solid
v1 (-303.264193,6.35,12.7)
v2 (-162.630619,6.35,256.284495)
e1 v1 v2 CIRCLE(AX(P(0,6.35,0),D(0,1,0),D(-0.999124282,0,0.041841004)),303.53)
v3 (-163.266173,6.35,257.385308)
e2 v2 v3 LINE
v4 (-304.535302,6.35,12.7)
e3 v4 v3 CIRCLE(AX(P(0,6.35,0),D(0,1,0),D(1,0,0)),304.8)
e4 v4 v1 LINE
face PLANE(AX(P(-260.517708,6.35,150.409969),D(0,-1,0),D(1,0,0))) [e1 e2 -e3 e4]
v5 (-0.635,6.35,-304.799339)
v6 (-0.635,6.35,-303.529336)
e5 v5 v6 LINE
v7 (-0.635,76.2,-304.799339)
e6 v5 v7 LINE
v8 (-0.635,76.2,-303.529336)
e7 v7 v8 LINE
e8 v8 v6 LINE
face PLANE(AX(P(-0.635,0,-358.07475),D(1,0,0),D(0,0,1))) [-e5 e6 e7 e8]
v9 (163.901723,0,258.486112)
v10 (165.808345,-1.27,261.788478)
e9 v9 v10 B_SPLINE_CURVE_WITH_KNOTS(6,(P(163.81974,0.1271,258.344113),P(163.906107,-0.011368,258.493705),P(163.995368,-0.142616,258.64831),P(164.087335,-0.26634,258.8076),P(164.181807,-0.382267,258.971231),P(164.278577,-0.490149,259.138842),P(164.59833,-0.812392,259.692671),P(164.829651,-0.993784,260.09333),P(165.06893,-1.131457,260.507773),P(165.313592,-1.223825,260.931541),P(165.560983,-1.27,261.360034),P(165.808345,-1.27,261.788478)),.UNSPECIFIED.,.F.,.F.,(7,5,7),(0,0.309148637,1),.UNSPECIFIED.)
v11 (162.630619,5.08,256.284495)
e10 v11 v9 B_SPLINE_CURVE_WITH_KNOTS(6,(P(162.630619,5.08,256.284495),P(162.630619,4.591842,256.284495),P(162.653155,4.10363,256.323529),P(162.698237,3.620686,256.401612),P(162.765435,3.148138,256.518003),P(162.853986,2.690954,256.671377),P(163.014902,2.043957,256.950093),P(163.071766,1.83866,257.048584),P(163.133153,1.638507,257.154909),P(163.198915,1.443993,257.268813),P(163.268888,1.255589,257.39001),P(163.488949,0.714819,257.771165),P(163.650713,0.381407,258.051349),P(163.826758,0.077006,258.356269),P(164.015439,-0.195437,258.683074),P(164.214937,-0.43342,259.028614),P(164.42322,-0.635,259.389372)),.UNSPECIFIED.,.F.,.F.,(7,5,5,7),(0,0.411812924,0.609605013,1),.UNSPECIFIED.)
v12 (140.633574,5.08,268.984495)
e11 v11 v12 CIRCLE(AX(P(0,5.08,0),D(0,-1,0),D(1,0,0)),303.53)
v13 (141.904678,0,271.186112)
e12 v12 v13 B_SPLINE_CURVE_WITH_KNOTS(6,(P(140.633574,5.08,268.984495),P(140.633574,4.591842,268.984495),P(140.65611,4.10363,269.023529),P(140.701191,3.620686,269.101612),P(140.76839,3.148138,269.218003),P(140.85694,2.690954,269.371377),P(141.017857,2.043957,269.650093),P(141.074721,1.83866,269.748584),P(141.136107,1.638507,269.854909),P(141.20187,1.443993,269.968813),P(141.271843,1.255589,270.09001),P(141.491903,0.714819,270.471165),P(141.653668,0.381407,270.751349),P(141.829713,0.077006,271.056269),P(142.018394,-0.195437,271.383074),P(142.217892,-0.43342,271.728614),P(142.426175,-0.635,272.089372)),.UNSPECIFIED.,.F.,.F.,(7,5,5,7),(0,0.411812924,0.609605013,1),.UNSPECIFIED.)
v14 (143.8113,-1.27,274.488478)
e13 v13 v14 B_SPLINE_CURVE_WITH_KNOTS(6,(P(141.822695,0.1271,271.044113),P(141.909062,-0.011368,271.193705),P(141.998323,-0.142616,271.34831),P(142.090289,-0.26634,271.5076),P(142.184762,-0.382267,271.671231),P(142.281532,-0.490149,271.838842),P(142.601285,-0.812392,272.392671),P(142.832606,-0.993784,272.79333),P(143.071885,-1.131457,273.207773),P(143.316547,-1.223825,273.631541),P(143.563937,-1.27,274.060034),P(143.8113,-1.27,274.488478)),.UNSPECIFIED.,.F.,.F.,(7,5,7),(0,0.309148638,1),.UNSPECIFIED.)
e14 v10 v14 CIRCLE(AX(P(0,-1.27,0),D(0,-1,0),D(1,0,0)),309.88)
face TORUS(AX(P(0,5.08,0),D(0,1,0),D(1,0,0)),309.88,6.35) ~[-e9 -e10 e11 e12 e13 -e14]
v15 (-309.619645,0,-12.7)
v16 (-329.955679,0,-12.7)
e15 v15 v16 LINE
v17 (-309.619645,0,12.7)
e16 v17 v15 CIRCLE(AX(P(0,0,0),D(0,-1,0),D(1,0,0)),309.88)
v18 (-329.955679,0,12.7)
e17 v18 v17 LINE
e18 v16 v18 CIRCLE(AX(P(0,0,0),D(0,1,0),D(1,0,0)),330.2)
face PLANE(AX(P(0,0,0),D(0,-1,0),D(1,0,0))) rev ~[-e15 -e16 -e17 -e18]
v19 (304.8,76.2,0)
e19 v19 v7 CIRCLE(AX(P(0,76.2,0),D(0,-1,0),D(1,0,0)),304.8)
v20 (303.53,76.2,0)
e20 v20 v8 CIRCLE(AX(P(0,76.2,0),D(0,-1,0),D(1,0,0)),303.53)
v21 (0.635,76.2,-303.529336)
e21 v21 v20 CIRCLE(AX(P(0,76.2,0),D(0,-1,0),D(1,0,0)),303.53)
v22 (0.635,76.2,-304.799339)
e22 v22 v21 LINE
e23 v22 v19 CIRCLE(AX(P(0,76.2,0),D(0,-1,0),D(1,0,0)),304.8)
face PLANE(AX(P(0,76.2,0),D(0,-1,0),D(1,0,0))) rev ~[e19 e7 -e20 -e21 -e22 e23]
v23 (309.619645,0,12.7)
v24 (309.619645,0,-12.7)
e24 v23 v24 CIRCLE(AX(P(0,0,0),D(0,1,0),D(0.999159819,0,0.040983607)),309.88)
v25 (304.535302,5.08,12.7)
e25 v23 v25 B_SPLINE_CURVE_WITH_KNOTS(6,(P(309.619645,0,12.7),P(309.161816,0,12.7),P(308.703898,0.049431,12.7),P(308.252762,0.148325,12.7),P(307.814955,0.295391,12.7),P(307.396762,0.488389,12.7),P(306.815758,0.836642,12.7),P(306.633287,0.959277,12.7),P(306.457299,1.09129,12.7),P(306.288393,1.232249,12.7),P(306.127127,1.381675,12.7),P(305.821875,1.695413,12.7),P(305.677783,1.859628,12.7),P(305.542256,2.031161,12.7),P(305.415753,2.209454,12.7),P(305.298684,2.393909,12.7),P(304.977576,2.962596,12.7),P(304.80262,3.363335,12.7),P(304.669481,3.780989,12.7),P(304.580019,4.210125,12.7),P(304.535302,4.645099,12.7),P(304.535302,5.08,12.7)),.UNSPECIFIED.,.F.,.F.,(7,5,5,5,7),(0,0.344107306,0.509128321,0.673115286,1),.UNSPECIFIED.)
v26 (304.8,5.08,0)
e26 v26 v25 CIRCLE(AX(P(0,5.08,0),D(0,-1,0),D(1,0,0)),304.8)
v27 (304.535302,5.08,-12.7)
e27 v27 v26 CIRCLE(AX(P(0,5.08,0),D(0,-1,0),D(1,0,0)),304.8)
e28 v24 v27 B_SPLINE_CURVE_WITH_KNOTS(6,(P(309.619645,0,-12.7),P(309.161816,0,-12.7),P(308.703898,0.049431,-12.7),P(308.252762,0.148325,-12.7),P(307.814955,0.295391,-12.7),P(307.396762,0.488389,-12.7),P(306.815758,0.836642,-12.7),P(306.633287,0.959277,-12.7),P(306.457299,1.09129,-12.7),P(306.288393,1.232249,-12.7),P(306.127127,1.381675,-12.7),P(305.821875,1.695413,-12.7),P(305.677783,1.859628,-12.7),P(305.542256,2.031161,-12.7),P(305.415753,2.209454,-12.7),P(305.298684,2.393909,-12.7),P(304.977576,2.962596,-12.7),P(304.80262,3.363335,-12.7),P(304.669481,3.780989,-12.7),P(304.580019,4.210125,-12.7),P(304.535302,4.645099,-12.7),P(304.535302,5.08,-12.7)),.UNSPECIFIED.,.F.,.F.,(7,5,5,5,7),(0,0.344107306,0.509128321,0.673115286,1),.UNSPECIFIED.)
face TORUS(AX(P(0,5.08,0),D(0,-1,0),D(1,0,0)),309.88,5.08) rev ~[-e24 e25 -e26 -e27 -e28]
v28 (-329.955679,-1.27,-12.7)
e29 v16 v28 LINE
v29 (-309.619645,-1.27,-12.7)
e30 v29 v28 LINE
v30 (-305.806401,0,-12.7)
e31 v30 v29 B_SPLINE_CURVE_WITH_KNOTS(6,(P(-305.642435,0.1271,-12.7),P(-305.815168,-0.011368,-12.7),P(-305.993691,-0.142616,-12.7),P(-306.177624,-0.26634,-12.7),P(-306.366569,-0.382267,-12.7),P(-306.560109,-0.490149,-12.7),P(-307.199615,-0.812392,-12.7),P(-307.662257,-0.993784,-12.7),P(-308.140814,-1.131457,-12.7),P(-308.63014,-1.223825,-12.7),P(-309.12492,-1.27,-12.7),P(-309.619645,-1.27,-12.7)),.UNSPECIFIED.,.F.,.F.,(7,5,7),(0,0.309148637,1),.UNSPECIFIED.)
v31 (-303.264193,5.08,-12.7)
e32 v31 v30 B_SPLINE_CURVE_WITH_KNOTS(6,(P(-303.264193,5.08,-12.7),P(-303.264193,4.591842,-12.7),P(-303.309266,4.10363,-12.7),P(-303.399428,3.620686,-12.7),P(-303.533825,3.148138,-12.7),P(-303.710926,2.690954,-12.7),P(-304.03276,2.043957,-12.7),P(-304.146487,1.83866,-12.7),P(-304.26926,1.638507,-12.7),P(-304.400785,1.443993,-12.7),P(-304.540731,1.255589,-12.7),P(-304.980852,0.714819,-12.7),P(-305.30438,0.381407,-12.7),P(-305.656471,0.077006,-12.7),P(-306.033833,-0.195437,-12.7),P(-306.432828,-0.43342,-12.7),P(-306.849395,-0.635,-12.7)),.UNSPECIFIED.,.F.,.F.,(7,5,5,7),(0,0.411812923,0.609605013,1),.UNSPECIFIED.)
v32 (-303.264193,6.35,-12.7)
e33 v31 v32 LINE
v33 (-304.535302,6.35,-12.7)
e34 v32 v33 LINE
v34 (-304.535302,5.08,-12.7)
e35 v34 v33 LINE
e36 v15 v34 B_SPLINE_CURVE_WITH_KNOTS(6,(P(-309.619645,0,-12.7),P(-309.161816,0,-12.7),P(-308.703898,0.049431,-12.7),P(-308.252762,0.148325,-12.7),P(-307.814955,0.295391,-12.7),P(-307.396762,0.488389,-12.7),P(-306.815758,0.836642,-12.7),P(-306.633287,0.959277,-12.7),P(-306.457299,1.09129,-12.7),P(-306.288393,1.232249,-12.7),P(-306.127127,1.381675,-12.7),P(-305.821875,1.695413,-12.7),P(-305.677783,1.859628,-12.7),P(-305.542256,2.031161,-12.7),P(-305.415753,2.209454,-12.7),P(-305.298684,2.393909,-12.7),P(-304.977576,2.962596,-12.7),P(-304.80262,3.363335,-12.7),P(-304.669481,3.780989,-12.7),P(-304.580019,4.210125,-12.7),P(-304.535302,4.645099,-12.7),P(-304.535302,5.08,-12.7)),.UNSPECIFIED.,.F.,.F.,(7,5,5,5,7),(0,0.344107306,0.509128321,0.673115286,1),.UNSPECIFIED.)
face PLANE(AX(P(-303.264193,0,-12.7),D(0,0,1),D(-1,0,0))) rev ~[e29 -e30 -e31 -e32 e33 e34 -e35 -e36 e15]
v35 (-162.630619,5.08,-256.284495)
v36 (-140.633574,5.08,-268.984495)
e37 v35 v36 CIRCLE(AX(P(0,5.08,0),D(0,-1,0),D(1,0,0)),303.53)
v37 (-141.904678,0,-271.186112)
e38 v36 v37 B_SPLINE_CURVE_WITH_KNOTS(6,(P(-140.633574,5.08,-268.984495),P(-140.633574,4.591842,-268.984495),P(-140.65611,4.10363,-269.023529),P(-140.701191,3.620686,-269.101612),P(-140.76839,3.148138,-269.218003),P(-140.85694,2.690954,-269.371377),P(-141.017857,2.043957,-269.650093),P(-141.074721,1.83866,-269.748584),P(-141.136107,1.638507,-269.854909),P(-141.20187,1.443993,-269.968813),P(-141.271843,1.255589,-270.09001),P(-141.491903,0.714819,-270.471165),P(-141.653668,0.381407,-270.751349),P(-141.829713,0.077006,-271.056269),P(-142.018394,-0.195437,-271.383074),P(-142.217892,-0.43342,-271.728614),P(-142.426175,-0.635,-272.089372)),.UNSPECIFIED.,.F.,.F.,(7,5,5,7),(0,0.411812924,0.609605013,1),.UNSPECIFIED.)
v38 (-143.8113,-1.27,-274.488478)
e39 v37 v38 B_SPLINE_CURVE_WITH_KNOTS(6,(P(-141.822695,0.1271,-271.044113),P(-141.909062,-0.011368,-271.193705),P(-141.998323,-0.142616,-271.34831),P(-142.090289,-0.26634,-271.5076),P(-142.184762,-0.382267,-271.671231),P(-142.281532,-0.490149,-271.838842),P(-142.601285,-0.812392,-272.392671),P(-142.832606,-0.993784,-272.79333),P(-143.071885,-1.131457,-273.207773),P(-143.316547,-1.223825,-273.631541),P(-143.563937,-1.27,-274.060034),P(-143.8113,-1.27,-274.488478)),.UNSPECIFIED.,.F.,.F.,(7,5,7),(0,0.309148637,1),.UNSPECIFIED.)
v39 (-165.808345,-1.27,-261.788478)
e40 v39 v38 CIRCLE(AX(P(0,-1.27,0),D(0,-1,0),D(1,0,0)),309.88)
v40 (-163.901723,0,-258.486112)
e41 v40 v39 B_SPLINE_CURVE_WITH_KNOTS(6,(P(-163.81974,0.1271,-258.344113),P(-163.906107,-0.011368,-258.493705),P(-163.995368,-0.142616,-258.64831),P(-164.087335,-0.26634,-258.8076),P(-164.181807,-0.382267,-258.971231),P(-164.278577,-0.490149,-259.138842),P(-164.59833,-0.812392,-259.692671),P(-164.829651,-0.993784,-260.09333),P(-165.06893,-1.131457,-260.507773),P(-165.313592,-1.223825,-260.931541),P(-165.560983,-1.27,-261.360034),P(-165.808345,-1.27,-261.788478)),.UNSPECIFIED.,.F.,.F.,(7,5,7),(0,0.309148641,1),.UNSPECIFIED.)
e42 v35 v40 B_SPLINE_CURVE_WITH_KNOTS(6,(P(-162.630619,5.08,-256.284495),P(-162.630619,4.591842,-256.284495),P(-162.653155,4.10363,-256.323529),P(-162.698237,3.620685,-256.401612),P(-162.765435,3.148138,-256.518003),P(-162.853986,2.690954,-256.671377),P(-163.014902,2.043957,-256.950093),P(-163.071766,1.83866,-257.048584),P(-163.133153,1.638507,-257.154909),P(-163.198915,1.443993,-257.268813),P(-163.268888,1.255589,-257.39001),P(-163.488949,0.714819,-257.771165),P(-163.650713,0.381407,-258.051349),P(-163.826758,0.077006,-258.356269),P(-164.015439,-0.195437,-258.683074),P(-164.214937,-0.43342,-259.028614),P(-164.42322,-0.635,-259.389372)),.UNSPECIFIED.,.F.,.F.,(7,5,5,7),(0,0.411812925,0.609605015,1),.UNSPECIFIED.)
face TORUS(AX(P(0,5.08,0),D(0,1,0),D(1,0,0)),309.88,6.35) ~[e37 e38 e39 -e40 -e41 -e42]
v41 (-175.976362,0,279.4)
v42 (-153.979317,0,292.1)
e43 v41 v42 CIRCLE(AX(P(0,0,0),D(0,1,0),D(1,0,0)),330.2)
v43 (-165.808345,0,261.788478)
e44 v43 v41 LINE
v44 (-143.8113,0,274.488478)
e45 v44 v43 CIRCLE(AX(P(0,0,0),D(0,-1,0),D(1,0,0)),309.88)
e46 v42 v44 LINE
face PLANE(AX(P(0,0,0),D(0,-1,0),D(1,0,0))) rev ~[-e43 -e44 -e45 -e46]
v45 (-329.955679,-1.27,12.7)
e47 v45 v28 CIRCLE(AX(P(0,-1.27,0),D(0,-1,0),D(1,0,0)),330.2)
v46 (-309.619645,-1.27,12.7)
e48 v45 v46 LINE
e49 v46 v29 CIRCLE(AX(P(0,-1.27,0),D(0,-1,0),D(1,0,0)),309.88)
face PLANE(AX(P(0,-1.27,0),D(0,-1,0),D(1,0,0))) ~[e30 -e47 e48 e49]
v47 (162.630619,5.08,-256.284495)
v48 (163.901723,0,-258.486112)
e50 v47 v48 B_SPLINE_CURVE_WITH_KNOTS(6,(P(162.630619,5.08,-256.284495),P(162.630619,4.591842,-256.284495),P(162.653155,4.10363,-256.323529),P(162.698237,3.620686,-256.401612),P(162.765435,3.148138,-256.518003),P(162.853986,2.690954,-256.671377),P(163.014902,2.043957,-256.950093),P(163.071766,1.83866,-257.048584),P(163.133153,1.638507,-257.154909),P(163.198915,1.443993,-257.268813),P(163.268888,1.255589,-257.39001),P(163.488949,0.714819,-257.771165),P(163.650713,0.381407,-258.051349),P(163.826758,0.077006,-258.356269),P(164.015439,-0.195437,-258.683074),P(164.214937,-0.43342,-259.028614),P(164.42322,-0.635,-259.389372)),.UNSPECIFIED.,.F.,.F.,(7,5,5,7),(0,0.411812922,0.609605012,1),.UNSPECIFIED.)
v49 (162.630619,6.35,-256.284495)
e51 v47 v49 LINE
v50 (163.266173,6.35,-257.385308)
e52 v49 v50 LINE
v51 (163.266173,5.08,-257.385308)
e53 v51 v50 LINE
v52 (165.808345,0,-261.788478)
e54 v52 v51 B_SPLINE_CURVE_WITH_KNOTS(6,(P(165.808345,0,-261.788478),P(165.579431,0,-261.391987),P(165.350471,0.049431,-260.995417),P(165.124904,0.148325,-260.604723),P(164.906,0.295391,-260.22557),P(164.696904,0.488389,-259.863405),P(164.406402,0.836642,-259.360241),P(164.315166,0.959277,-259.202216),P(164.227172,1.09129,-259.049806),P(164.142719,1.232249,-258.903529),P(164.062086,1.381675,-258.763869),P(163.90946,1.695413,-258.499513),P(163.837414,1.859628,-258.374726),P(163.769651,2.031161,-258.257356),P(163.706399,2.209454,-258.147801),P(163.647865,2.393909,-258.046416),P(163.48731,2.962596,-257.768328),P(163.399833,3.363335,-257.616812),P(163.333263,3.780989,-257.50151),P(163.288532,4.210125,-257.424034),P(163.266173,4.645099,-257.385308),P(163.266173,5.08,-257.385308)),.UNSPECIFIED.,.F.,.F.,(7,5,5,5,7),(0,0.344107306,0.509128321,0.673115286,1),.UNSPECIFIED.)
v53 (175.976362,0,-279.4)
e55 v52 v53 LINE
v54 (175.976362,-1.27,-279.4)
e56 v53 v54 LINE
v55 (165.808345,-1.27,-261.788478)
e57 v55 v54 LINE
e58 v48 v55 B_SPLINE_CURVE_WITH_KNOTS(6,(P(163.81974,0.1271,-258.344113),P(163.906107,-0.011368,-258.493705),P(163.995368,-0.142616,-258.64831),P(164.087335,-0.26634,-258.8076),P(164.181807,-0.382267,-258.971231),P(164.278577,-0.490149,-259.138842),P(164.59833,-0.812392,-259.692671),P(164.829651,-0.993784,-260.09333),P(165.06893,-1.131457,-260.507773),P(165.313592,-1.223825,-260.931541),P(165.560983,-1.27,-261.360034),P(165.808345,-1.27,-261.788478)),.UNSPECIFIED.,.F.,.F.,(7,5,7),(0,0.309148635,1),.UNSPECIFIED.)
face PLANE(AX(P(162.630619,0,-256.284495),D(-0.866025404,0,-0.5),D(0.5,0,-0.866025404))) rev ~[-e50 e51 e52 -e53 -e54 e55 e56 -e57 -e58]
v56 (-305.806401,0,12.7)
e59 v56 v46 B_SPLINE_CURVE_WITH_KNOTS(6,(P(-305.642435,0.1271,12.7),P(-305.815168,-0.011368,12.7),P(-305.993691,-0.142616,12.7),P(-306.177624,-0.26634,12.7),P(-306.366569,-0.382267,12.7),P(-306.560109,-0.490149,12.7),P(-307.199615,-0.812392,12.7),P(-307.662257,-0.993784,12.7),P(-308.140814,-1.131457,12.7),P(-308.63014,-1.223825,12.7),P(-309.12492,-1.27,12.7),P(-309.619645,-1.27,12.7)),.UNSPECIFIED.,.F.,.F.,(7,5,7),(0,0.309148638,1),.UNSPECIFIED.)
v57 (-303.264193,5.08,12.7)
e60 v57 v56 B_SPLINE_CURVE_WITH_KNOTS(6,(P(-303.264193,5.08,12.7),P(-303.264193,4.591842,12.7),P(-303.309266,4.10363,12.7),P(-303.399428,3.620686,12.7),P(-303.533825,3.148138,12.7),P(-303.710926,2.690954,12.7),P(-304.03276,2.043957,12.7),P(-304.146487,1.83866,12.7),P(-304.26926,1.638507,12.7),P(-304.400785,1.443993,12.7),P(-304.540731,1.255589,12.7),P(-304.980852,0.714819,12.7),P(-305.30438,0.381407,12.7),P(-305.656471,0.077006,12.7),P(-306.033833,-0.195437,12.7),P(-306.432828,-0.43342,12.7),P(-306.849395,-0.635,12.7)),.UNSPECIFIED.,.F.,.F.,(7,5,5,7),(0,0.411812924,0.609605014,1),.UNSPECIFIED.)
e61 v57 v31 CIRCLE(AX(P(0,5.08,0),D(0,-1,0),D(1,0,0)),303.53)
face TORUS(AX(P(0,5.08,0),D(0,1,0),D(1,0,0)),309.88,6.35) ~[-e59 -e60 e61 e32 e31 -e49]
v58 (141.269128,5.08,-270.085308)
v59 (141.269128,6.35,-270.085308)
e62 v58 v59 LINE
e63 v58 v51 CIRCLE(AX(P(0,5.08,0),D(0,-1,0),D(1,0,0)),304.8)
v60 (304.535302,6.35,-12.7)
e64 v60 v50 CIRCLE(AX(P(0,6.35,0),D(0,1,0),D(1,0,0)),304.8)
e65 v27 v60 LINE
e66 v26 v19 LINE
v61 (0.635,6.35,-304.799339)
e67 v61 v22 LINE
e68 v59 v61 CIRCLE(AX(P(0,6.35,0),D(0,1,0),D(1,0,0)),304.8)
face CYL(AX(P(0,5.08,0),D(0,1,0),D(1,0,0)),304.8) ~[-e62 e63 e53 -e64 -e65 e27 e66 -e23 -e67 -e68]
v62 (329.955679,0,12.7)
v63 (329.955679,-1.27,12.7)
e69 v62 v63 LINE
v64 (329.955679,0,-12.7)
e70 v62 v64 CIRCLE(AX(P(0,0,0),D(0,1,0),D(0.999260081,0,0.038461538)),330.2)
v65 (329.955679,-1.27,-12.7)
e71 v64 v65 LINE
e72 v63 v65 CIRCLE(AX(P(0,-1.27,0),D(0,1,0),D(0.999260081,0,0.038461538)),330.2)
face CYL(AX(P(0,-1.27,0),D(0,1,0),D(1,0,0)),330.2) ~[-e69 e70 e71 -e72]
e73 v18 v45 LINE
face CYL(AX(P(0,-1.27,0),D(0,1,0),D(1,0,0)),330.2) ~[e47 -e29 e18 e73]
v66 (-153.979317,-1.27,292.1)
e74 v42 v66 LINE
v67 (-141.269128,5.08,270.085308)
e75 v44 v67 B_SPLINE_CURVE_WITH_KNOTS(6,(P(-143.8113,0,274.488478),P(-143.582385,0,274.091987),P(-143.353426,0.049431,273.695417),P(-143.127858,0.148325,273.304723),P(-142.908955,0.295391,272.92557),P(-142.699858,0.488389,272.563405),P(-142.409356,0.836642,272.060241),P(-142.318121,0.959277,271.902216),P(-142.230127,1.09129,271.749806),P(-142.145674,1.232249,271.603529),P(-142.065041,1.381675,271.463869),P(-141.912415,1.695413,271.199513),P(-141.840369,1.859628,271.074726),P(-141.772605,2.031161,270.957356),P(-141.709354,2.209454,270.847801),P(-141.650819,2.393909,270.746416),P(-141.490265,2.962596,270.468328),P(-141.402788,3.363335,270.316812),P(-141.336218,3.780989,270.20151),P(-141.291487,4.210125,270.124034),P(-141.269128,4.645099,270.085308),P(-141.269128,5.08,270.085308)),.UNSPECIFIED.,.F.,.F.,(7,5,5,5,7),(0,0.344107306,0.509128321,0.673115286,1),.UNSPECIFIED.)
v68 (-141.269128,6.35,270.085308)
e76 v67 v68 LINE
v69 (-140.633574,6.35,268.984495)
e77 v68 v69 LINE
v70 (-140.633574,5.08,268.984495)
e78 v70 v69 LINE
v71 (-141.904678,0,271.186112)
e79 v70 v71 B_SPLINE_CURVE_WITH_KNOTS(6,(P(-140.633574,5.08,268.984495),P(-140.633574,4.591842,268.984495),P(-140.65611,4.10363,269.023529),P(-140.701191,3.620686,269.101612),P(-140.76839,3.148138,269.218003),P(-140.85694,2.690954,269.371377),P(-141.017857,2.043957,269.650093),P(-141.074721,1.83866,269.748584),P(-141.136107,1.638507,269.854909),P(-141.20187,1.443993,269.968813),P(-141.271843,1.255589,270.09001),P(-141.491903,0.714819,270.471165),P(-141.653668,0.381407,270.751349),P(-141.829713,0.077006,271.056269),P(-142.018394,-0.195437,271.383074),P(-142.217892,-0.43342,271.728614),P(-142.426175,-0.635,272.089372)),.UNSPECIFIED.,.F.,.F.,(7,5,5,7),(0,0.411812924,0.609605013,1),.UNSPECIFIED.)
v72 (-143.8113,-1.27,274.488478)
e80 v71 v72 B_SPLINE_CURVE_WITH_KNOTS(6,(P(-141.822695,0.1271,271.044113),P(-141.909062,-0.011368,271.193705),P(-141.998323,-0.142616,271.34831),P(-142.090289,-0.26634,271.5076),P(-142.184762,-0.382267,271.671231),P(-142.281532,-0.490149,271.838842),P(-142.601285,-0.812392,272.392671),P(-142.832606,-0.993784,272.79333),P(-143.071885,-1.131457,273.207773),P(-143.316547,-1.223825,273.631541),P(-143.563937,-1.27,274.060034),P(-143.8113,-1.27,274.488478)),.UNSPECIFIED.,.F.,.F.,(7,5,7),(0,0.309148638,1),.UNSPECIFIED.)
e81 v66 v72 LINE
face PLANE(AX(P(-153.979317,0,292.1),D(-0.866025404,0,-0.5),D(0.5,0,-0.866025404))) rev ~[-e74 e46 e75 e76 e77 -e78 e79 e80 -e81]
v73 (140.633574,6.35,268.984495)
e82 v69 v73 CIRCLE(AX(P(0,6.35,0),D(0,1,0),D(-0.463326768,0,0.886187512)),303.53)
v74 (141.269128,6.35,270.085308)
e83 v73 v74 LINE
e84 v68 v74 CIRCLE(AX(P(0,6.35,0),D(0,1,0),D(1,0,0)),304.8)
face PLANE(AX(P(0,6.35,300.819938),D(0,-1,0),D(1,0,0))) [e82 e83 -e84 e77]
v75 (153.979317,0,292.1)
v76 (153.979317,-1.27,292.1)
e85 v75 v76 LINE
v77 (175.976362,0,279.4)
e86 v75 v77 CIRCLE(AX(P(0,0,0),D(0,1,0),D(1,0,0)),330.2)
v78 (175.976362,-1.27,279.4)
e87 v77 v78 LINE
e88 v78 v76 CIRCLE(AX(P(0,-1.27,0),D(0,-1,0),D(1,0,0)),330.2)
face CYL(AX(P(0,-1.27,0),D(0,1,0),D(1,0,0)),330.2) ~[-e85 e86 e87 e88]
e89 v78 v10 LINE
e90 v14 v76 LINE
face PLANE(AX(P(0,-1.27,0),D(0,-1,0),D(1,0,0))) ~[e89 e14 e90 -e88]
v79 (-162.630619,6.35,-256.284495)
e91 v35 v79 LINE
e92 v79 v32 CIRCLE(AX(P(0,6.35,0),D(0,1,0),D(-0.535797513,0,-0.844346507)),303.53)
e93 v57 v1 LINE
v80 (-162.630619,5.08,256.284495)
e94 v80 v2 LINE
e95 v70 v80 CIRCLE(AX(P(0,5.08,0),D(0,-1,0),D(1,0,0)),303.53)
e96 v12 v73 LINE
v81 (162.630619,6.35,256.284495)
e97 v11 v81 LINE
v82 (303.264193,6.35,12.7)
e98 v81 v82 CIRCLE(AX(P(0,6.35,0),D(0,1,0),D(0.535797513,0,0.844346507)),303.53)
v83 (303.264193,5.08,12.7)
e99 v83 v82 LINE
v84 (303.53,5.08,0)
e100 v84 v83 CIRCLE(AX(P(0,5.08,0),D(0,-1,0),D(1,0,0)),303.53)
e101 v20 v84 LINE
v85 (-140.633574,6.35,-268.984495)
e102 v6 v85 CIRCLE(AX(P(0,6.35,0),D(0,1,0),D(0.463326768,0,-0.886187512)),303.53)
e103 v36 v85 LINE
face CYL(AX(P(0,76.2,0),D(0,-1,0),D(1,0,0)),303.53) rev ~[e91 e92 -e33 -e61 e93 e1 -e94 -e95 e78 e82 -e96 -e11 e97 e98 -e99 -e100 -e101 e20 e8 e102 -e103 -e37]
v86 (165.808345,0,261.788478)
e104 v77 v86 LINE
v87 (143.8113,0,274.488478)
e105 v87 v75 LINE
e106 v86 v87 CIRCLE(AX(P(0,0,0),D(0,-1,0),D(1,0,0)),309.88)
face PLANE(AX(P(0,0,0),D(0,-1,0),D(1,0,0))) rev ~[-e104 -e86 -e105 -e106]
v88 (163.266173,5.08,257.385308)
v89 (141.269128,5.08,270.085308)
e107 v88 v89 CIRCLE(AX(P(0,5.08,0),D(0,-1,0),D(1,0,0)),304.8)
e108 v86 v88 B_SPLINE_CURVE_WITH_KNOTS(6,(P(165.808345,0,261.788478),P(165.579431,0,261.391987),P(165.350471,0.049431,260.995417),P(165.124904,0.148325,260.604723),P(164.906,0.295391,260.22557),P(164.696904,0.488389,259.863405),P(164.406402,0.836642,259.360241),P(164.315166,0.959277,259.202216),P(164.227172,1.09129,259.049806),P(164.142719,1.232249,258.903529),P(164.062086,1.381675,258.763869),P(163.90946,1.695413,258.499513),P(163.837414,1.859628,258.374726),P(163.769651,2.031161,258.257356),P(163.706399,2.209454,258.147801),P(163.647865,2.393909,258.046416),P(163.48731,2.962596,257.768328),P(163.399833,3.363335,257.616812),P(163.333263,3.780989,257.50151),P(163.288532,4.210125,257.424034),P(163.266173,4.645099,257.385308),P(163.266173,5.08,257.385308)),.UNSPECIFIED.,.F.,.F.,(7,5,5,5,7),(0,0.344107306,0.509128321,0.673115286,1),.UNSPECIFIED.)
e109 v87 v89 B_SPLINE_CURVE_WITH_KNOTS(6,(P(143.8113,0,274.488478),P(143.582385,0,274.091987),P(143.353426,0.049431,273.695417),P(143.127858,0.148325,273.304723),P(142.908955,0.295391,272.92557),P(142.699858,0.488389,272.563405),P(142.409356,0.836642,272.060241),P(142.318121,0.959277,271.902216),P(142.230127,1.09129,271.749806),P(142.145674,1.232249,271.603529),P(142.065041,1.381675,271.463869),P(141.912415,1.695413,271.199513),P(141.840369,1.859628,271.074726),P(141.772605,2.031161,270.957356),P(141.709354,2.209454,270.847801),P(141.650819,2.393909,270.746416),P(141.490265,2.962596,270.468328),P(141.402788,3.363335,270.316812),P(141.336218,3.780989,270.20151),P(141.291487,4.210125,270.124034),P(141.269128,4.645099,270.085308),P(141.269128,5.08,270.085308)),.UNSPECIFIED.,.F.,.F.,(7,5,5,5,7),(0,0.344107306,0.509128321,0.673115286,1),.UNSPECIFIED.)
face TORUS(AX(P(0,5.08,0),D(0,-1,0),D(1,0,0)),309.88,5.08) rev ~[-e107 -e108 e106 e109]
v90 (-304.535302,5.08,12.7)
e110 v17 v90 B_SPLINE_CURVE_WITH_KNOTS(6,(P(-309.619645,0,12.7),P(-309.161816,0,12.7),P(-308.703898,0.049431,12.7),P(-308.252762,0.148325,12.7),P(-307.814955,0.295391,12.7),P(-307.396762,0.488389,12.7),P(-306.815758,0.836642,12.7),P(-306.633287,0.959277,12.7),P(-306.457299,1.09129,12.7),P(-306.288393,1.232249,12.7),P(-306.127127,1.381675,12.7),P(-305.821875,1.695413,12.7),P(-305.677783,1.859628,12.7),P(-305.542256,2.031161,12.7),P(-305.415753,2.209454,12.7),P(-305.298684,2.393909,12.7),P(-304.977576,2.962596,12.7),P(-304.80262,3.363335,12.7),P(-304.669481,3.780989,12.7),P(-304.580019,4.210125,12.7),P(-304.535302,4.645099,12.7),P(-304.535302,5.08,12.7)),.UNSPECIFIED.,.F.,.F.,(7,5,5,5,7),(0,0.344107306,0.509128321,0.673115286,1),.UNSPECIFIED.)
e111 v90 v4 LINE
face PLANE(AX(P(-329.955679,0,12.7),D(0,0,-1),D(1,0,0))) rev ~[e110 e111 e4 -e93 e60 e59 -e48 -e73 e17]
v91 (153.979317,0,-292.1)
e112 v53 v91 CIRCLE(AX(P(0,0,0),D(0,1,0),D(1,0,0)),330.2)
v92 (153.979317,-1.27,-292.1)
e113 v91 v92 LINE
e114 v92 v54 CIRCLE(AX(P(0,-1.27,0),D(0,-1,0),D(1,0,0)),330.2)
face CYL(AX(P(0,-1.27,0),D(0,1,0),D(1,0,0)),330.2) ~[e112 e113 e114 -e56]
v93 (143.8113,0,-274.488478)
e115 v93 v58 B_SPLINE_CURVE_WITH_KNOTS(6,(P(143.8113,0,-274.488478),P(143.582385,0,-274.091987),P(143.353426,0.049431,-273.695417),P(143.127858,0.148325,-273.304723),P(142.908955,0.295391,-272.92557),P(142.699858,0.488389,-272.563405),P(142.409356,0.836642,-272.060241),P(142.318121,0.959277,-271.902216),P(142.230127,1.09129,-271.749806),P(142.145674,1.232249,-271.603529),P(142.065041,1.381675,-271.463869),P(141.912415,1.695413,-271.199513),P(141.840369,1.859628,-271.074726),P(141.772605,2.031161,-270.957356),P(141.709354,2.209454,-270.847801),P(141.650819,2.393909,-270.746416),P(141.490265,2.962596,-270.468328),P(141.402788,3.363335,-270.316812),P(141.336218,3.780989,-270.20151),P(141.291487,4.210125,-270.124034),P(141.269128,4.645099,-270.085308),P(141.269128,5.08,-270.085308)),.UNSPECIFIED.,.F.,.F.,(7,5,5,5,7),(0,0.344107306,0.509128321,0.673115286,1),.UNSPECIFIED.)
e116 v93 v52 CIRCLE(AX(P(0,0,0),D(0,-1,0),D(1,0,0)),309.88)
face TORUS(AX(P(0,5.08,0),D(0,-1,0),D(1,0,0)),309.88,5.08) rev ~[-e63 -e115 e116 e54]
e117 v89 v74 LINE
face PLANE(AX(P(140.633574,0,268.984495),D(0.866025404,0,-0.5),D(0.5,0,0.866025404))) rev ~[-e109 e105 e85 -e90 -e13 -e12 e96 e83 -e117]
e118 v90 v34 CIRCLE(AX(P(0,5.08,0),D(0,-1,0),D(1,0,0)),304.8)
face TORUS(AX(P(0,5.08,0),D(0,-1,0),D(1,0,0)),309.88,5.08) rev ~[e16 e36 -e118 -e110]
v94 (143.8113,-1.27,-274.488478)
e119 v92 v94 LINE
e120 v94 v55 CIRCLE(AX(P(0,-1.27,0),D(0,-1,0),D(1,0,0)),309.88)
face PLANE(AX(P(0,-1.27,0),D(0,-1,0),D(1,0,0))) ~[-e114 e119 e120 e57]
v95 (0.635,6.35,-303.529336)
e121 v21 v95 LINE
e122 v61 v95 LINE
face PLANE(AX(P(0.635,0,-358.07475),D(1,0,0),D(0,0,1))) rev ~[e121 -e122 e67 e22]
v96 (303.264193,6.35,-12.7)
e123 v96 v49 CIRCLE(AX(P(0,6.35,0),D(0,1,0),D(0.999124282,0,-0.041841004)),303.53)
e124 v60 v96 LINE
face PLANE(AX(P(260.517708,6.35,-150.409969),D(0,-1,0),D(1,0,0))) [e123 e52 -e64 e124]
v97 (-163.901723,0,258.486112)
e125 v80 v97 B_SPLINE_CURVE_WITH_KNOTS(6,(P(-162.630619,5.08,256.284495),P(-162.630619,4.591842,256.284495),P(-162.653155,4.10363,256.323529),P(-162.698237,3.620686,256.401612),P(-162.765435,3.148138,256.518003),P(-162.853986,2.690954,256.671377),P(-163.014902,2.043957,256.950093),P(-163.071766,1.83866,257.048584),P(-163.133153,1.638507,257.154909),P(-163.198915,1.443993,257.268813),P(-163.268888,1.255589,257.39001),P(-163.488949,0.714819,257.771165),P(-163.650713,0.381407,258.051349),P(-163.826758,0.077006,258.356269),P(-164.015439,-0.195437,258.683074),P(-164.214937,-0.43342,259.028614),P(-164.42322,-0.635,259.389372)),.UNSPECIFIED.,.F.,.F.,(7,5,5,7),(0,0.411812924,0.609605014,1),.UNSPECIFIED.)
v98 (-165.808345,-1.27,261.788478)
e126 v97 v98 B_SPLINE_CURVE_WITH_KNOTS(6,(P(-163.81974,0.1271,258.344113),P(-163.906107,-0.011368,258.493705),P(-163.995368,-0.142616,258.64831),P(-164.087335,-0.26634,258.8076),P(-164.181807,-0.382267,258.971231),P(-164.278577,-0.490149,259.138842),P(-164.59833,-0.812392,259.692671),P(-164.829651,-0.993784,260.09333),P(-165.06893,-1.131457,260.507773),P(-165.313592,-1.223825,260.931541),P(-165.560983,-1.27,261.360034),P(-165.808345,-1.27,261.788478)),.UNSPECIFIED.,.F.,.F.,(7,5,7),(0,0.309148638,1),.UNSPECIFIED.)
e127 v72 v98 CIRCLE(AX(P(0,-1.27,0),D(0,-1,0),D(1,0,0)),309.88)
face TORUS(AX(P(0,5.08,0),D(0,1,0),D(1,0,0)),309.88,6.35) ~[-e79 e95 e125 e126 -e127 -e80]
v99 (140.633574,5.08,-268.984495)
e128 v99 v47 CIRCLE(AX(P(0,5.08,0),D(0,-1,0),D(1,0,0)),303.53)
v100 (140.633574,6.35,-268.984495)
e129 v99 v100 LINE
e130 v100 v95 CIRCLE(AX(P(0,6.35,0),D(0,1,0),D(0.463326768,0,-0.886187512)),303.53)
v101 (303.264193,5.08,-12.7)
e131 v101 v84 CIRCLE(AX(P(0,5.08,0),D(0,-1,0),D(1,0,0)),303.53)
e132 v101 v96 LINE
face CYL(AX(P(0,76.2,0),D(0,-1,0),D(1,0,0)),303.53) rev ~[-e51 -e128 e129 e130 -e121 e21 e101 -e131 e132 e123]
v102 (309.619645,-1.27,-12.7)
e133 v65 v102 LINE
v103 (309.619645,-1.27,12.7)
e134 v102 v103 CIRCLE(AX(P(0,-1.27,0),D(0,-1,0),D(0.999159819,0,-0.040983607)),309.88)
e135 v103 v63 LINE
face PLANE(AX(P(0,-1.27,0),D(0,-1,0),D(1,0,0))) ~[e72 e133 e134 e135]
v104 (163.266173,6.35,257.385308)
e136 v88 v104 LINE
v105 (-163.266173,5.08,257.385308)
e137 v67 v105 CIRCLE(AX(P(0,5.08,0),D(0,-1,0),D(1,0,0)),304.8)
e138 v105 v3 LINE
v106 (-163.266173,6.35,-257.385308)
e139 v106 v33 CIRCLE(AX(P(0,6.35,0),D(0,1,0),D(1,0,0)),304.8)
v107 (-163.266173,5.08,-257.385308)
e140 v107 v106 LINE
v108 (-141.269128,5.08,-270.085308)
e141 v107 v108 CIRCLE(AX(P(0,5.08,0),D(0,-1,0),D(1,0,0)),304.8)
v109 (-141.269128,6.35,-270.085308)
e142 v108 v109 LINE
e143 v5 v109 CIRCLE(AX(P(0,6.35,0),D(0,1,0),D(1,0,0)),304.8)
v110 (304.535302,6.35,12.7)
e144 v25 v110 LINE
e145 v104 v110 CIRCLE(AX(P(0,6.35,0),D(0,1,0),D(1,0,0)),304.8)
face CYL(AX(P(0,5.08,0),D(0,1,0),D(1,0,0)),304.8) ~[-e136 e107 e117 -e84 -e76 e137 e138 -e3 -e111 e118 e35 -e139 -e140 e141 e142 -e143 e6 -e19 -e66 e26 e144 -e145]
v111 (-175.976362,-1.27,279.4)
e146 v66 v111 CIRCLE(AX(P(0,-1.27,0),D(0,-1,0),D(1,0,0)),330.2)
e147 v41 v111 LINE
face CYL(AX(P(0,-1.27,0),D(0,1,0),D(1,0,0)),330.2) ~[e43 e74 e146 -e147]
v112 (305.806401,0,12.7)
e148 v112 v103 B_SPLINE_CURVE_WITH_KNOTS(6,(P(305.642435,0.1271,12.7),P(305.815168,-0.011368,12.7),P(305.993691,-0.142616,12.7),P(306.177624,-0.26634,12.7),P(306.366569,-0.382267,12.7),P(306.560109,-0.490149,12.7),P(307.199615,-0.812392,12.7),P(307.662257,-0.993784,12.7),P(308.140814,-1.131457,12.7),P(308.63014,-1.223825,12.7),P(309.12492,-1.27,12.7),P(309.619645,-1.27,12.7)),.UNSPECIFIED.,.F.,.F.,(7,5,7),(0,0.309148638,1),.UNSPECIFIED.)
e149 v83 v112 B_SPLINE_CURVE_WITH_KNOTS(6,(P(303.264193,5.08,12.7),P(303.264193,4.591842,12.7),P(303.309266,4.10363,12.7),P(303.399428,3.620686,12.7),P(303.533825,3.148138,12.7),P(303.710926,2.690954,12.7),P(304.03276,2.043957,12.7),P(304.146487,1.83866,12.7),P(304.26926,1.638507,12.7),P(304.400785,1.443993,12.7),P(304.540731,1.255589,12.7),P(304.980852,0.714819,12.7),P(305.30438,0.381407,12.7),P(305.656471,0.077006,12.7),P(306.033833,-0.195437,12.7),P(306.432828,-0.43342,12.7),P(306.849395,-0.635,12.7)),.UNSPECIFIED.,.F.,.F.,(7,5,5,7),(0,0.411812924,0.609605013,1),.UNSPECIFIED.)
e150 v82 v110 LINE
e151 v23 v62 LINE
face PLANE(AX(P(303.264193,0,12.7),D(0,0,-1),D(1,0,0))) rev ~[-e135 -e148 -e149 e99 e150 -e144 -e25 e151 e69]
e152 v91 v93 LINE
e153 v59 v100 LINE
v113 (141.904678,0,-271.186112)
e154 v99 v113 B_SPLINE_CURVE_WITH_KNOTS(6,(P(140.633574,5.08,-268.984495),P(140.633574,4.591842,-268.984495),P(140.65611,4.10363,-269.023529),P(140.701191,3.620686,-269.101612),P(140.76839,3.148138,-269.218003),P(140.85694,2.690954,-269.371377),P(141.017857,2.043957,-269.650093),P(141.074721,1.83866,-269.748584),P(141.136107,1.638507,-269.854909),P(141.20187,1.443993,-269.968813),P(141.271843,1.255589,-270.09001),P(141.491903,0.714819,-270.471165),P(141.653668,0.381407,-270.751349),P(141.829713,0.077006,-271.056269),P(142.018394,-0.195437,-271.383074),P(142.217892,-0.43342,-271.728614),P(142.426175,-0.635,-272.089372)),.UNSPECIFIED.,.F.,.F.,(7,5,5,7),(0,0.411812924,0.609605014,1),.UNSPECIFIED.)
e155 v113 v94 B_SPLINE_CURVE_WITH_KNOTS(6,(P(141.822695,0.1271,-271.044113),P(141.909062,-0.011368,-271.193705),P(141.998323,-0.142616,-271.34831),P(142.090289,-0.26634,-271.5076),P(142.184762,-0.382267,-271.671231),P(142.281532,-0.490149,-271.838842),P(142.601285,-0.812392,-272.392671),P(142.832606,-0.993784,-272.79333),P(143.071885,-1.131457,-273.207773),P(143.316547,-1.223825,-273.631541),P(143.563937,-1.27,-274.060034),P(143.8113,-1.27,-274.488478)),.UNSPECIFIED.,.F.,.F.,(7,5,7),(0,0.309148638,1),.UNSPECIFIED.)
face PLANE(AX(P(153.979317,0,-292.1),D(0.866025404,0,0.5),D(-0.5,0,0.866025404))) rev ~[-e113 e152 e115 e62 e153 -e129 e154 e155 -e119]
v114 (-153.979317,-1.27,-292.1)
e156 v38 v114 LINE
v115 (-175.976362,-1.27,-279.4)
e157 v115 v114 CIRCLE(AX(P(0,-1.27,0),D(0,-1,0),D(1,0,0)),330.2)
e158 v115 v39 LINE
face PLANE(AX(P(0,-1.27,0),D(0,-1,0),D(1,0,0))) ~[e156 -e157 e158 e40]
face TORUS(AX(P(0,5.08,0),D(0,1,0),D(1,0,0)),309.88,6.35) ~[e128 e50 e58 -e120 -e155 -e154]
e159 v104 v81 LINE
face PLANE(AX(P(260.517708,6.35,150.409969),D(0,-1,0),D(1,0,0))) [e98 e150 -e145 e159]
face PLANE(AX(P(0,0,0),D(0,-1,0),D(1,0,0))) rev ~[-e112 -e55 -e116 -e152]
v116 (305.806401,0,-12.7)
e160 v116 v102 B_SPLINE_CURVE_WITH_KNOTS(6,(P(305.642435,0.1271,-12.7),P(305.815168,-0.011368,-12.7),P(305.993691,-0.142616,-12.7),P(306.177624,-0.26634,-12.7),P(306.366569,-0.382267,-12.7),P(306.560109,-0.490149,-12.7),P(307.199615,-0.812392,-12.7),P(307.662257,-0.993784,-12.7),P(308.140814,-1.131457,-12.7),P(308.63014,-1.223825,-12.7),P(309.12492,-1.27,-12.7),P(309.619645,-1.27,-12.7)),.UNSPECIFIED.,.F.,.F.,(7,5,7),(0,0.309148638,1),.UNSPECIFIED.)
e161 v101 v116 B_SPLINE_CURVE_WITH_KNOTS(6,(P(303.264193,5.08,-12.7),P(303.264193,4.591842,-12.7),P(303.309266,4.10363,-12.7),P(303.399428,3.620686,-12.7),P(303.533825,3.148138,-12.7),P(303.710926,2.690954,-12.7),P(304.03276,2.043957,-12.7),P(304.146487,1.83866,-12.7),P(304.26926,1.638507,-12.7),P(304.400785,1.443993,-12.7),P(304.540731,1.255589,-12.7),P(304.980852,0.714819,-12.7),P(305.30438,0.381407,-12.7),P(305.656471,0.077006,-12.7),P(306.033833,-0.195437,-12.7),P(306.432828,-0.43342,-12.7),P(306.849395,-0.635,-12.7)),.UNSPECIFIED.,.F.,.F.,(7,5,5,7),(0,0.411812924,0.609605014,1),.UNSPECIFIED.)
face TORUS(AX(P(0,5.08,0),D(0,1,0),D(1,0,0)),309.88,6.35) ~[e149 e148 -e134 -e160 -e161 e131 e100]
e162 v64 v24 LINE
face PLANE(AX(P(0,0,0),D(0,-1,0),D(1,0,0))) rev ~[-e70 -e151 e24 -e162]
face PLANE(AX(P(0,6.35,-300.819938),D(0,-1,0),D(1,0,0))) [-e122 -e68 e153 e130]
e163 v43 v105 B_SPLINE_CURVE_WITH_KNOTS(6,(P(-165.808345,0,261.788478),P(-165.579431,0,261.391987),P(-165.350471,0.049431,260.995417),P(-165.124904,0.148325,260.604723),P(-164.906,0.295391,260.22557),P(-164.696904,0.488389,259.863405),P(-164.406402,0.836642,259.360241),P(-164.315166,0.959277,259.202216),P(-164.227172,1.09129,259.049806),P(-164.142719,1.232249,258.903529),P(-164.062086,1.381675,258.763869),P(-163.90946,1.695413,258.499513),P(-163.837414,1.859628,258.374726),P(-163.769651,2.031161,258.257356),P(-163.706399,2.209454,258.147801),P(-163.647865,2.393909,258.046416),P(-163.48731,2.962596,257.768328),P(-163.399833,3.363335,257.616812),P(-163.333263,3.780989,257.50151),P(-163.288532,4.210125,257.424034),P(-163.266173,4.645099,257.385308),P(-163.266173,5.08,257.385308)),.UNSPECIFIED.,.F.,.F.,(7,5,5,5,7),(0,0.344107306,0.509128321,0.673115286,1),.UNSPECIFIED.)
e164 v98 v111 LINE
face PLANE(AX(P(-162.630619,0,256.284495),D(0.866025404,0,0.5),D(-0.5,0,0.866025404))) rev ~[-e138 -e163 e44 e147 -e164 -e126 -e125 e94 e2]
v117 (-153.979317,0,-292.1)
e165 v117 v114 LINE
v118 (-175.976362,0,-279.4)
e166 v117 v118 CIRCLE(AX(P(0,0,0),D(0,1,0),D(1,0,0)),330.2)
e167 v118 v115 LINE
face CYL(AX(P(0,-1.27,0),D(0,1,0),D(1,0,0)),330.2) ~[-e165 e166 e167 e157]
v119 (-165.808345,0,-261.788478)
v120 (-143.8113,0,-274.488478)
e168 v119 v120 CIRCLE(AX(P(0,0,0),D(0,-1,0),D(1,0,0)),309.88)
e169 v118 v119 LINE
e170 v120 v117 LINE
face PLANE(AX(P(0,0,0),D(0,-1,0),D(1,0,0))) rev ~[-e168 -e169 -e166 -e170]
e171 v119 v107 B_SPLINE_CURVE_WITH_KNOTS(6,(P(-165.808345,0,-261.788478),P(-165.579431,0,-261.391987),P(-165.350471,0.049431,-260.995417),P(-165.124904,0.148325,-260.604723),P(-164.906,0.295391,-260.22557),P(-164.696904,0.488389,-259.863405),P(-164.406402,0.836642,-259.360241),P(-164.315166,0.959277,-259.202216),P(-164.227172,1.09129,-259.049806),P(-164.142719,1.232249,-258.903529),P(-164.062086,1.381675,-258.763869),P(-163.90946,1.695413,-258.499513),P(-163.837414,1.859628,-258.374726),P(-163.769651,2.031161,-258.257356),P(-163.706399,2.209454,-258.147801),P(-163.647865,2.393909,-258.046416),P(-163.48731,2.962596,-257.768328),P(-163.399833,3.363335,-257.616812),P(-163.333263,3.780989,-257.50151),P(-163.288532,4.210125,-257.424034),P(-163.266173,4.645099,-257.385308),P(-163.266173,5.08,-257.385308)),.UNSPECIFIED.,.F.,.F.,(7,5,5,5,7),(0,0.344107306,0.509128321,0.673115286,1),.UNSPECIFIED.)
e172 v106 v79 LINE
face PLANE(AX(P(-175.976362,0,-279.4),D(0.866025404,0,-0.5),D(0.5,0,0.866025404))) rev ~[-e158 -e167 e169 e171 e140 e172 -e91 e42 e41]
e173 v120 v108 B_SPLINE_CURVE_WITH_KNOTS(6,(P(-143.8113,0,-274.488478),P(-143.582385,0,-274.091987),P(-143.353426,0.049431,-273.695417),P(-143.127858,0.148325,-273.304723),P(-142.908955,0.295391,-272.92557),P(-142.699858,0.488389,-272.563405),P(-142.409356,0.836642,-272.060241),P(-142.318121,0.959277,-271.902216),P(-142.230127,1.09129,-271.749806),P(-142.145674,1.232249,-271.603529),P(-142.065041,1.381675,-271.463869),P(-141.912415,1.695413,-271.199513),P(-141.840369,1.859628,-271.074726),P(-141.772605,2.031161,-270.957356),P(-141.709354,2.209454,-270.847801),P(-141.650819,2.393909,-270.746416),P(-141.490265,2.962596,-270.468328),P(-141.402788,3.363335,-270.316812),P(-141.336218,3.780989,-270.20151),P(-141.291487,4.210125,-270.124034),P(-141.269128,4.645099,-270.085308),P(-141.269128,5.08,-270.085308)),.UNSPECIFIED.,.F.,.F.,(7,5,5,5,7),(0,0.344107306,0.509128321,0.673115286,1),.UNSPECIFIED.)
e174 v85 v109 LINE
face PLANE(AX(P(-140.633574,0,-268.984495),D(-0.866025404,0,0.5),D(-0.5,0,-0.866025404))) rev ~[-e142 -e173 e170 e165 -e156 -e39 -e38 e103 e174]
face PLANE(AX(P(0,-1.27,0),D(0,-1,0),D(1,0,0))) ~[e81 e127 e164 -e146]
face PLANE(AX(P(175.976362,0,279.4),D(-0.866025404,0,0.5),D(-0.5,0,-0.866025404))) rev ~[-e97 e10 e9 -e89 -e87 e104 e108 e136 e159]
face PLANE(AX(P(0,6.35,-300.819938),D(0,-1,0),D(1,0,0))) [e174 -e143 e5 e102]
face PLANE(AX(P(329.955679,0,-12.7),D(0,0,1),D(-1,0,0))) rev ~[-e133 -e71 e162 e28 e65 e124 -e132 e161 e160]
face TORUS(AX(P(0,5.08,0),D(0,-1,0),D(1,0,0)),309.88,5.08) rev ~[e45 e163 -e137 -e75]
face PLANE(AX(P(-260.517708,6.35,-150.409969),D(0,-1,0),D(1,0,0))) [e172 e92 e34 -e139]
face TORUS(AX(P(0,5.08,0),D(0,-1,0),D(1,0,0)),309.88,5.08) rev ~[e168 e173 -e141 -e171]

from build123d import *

# Parameters (mm, degrees)
F3_DEPTH      = 6.35
F3_DEPTH_BACK = 1.271
F4_W          = 1.27
F4_H          = 76.2
F5_DEPTH      = 76.201
F5_DEPTH_BACK = 1.2710001


with BuildPart() as f1:
    # F0 (on Top) → F1 (revolve)
    with BuildSketch(Plane.XY):
        with BuildLine():
            Line((304.8, 5.08), (304.8, 76.2))
            Line((304.8, 76.2), (303.53, 76.2))
            Line((303.53, 76.2), (303.53, 5.08))
            ThreePointArc((303.53, 5.08), (305.3898719395, 0.5898719395), (309.88, -1.27))
            Line((309.88, -1.27), (330.2, -1.27))
            Line((330.2, -1.27), (330.2, 0))
            Line((330.2, 0), (309.88, 0))
            ThreePointArc((309.88, 0), (306.2878975516, 1.4878975516), (304.8, 5.08))
        make_face()
    revolve(axis=Axis((0, 33.4558707156, 0), (0, -1, 0)))

    # F2 (on Front) → F3 (cut, two sides)
    with BuildSketch(Plane.XZ) as f3_sk:
        with BuildLine():
            Line((162.6306192468, -256.2844954019), (175.976362049, -279.4))
            ThreePointArc((175.976362049, -279.4), (285.9615883296, -165.1), (329.9556788419, -12.7))
            Line((329.9556788419, -12.7), (303.2641932375, -12.7))
            ThreePointArc((303.2641932375, -12.7), (262.8646908107, -151.765), (162.6306192468, -256.2844954019))
        make_face()
        with BuildLine():
            Line((303.2641932375, 12.7), (329.9556788419, 12.7))
            ThreePointArc((329.9556788419, 12.7), (285.9615883296, 165.1), (175.976362049, 279.4))
            Line((175.976362049, 279.4), (162.6306192468, 256.2844954019))
            ThreePointArc((162.6306192468, 256.2844954019), (262.8646908107, 151.765), (303.2641932375, 12.7))
        make_face()
        with BuildLine():
            ThreePointArc((-140.6335739907, 268.9844954019), (0, 303.53), (140.6335739907, 268.9844954019))
            Line((140.6335739907, 268.9844954019), (153.9793167929, 292.1))
            ThreePointArc((153.9793167929, 292.1), (0, 330.2), (-153.9793167929, 292.1))
            Line((-153.9793167929, 292.1), (-140.6335739907, 268.9844954019))
        make_face()
        with BuildLine():
            Line((-329.9556788419, 12.7), (-303.2641932375, 12.7))
            ThreePointArc((-303.2641932375, 12.7), (-262.8646908107, 151.765), (-162.6306192468, 256.2844954019))
            Line((-162.6306192468, 256.2844954019), (-175.976362049, 279.4))
            ThreePointArc((-175.976362049, 279.4), (-285.9615883296, 165.1), (-329.9556788419, 12.7))
        make_face()
        with BuildLine():
            Line((-175.976362049, -279.4), (-162.6306192468, -256.2844954019))
            ThreePointArc((-162.6306192468, -256.2844954019), (-262.8646908107, -151.765), (-303.2641932375, -12.7))
            Line((-303.2641932375, -12.7), (-329.9556788419, -12.7))
            ThreePointArc((-329.9556788419, -12.7), (-285.9615883296, -165.1), (-175.976362049, -279.4))
        make_face()
        with BuildLine():
            ThreePointArc((-153.9793167929, -292.1), (0, -330.2), (153.9793167929, -292.1))
            Line((153.9793167929, -292.1), (140.6335739907, -268.9844954019))
            ThreePointArc((140.6335739907, -268.9844954019), (0, -303.53), (-140.6335739907, -268.9844954019))
            Line((-140.6335739907, -268.9844954019), (-153.9793167929, -292.1))
        make_face()
    extrude(amount=-F3_DEPTH, mode=Mode.SUBTRACT)
    extrude(f3_sk.sketch, amount=F3_DEPTH_BACK, mode=Mode.SUBTRACT)

    # F4 (on Front) → F5 (cut, two sides)
    with BuildSketch(Plane.XZ) as f5_sk:
        with Locations((0, -319.9747502804)):
            Rectangle(F4_W, F4_H)
    extrude(amount=-F5_DEPTH, mode=Mode.SUBTRACT)
    extrude(f5_sk.sketch, amount=F5_DEPTH_BACK, mode=Mode.SUBTRACT)


solid = f1.part
